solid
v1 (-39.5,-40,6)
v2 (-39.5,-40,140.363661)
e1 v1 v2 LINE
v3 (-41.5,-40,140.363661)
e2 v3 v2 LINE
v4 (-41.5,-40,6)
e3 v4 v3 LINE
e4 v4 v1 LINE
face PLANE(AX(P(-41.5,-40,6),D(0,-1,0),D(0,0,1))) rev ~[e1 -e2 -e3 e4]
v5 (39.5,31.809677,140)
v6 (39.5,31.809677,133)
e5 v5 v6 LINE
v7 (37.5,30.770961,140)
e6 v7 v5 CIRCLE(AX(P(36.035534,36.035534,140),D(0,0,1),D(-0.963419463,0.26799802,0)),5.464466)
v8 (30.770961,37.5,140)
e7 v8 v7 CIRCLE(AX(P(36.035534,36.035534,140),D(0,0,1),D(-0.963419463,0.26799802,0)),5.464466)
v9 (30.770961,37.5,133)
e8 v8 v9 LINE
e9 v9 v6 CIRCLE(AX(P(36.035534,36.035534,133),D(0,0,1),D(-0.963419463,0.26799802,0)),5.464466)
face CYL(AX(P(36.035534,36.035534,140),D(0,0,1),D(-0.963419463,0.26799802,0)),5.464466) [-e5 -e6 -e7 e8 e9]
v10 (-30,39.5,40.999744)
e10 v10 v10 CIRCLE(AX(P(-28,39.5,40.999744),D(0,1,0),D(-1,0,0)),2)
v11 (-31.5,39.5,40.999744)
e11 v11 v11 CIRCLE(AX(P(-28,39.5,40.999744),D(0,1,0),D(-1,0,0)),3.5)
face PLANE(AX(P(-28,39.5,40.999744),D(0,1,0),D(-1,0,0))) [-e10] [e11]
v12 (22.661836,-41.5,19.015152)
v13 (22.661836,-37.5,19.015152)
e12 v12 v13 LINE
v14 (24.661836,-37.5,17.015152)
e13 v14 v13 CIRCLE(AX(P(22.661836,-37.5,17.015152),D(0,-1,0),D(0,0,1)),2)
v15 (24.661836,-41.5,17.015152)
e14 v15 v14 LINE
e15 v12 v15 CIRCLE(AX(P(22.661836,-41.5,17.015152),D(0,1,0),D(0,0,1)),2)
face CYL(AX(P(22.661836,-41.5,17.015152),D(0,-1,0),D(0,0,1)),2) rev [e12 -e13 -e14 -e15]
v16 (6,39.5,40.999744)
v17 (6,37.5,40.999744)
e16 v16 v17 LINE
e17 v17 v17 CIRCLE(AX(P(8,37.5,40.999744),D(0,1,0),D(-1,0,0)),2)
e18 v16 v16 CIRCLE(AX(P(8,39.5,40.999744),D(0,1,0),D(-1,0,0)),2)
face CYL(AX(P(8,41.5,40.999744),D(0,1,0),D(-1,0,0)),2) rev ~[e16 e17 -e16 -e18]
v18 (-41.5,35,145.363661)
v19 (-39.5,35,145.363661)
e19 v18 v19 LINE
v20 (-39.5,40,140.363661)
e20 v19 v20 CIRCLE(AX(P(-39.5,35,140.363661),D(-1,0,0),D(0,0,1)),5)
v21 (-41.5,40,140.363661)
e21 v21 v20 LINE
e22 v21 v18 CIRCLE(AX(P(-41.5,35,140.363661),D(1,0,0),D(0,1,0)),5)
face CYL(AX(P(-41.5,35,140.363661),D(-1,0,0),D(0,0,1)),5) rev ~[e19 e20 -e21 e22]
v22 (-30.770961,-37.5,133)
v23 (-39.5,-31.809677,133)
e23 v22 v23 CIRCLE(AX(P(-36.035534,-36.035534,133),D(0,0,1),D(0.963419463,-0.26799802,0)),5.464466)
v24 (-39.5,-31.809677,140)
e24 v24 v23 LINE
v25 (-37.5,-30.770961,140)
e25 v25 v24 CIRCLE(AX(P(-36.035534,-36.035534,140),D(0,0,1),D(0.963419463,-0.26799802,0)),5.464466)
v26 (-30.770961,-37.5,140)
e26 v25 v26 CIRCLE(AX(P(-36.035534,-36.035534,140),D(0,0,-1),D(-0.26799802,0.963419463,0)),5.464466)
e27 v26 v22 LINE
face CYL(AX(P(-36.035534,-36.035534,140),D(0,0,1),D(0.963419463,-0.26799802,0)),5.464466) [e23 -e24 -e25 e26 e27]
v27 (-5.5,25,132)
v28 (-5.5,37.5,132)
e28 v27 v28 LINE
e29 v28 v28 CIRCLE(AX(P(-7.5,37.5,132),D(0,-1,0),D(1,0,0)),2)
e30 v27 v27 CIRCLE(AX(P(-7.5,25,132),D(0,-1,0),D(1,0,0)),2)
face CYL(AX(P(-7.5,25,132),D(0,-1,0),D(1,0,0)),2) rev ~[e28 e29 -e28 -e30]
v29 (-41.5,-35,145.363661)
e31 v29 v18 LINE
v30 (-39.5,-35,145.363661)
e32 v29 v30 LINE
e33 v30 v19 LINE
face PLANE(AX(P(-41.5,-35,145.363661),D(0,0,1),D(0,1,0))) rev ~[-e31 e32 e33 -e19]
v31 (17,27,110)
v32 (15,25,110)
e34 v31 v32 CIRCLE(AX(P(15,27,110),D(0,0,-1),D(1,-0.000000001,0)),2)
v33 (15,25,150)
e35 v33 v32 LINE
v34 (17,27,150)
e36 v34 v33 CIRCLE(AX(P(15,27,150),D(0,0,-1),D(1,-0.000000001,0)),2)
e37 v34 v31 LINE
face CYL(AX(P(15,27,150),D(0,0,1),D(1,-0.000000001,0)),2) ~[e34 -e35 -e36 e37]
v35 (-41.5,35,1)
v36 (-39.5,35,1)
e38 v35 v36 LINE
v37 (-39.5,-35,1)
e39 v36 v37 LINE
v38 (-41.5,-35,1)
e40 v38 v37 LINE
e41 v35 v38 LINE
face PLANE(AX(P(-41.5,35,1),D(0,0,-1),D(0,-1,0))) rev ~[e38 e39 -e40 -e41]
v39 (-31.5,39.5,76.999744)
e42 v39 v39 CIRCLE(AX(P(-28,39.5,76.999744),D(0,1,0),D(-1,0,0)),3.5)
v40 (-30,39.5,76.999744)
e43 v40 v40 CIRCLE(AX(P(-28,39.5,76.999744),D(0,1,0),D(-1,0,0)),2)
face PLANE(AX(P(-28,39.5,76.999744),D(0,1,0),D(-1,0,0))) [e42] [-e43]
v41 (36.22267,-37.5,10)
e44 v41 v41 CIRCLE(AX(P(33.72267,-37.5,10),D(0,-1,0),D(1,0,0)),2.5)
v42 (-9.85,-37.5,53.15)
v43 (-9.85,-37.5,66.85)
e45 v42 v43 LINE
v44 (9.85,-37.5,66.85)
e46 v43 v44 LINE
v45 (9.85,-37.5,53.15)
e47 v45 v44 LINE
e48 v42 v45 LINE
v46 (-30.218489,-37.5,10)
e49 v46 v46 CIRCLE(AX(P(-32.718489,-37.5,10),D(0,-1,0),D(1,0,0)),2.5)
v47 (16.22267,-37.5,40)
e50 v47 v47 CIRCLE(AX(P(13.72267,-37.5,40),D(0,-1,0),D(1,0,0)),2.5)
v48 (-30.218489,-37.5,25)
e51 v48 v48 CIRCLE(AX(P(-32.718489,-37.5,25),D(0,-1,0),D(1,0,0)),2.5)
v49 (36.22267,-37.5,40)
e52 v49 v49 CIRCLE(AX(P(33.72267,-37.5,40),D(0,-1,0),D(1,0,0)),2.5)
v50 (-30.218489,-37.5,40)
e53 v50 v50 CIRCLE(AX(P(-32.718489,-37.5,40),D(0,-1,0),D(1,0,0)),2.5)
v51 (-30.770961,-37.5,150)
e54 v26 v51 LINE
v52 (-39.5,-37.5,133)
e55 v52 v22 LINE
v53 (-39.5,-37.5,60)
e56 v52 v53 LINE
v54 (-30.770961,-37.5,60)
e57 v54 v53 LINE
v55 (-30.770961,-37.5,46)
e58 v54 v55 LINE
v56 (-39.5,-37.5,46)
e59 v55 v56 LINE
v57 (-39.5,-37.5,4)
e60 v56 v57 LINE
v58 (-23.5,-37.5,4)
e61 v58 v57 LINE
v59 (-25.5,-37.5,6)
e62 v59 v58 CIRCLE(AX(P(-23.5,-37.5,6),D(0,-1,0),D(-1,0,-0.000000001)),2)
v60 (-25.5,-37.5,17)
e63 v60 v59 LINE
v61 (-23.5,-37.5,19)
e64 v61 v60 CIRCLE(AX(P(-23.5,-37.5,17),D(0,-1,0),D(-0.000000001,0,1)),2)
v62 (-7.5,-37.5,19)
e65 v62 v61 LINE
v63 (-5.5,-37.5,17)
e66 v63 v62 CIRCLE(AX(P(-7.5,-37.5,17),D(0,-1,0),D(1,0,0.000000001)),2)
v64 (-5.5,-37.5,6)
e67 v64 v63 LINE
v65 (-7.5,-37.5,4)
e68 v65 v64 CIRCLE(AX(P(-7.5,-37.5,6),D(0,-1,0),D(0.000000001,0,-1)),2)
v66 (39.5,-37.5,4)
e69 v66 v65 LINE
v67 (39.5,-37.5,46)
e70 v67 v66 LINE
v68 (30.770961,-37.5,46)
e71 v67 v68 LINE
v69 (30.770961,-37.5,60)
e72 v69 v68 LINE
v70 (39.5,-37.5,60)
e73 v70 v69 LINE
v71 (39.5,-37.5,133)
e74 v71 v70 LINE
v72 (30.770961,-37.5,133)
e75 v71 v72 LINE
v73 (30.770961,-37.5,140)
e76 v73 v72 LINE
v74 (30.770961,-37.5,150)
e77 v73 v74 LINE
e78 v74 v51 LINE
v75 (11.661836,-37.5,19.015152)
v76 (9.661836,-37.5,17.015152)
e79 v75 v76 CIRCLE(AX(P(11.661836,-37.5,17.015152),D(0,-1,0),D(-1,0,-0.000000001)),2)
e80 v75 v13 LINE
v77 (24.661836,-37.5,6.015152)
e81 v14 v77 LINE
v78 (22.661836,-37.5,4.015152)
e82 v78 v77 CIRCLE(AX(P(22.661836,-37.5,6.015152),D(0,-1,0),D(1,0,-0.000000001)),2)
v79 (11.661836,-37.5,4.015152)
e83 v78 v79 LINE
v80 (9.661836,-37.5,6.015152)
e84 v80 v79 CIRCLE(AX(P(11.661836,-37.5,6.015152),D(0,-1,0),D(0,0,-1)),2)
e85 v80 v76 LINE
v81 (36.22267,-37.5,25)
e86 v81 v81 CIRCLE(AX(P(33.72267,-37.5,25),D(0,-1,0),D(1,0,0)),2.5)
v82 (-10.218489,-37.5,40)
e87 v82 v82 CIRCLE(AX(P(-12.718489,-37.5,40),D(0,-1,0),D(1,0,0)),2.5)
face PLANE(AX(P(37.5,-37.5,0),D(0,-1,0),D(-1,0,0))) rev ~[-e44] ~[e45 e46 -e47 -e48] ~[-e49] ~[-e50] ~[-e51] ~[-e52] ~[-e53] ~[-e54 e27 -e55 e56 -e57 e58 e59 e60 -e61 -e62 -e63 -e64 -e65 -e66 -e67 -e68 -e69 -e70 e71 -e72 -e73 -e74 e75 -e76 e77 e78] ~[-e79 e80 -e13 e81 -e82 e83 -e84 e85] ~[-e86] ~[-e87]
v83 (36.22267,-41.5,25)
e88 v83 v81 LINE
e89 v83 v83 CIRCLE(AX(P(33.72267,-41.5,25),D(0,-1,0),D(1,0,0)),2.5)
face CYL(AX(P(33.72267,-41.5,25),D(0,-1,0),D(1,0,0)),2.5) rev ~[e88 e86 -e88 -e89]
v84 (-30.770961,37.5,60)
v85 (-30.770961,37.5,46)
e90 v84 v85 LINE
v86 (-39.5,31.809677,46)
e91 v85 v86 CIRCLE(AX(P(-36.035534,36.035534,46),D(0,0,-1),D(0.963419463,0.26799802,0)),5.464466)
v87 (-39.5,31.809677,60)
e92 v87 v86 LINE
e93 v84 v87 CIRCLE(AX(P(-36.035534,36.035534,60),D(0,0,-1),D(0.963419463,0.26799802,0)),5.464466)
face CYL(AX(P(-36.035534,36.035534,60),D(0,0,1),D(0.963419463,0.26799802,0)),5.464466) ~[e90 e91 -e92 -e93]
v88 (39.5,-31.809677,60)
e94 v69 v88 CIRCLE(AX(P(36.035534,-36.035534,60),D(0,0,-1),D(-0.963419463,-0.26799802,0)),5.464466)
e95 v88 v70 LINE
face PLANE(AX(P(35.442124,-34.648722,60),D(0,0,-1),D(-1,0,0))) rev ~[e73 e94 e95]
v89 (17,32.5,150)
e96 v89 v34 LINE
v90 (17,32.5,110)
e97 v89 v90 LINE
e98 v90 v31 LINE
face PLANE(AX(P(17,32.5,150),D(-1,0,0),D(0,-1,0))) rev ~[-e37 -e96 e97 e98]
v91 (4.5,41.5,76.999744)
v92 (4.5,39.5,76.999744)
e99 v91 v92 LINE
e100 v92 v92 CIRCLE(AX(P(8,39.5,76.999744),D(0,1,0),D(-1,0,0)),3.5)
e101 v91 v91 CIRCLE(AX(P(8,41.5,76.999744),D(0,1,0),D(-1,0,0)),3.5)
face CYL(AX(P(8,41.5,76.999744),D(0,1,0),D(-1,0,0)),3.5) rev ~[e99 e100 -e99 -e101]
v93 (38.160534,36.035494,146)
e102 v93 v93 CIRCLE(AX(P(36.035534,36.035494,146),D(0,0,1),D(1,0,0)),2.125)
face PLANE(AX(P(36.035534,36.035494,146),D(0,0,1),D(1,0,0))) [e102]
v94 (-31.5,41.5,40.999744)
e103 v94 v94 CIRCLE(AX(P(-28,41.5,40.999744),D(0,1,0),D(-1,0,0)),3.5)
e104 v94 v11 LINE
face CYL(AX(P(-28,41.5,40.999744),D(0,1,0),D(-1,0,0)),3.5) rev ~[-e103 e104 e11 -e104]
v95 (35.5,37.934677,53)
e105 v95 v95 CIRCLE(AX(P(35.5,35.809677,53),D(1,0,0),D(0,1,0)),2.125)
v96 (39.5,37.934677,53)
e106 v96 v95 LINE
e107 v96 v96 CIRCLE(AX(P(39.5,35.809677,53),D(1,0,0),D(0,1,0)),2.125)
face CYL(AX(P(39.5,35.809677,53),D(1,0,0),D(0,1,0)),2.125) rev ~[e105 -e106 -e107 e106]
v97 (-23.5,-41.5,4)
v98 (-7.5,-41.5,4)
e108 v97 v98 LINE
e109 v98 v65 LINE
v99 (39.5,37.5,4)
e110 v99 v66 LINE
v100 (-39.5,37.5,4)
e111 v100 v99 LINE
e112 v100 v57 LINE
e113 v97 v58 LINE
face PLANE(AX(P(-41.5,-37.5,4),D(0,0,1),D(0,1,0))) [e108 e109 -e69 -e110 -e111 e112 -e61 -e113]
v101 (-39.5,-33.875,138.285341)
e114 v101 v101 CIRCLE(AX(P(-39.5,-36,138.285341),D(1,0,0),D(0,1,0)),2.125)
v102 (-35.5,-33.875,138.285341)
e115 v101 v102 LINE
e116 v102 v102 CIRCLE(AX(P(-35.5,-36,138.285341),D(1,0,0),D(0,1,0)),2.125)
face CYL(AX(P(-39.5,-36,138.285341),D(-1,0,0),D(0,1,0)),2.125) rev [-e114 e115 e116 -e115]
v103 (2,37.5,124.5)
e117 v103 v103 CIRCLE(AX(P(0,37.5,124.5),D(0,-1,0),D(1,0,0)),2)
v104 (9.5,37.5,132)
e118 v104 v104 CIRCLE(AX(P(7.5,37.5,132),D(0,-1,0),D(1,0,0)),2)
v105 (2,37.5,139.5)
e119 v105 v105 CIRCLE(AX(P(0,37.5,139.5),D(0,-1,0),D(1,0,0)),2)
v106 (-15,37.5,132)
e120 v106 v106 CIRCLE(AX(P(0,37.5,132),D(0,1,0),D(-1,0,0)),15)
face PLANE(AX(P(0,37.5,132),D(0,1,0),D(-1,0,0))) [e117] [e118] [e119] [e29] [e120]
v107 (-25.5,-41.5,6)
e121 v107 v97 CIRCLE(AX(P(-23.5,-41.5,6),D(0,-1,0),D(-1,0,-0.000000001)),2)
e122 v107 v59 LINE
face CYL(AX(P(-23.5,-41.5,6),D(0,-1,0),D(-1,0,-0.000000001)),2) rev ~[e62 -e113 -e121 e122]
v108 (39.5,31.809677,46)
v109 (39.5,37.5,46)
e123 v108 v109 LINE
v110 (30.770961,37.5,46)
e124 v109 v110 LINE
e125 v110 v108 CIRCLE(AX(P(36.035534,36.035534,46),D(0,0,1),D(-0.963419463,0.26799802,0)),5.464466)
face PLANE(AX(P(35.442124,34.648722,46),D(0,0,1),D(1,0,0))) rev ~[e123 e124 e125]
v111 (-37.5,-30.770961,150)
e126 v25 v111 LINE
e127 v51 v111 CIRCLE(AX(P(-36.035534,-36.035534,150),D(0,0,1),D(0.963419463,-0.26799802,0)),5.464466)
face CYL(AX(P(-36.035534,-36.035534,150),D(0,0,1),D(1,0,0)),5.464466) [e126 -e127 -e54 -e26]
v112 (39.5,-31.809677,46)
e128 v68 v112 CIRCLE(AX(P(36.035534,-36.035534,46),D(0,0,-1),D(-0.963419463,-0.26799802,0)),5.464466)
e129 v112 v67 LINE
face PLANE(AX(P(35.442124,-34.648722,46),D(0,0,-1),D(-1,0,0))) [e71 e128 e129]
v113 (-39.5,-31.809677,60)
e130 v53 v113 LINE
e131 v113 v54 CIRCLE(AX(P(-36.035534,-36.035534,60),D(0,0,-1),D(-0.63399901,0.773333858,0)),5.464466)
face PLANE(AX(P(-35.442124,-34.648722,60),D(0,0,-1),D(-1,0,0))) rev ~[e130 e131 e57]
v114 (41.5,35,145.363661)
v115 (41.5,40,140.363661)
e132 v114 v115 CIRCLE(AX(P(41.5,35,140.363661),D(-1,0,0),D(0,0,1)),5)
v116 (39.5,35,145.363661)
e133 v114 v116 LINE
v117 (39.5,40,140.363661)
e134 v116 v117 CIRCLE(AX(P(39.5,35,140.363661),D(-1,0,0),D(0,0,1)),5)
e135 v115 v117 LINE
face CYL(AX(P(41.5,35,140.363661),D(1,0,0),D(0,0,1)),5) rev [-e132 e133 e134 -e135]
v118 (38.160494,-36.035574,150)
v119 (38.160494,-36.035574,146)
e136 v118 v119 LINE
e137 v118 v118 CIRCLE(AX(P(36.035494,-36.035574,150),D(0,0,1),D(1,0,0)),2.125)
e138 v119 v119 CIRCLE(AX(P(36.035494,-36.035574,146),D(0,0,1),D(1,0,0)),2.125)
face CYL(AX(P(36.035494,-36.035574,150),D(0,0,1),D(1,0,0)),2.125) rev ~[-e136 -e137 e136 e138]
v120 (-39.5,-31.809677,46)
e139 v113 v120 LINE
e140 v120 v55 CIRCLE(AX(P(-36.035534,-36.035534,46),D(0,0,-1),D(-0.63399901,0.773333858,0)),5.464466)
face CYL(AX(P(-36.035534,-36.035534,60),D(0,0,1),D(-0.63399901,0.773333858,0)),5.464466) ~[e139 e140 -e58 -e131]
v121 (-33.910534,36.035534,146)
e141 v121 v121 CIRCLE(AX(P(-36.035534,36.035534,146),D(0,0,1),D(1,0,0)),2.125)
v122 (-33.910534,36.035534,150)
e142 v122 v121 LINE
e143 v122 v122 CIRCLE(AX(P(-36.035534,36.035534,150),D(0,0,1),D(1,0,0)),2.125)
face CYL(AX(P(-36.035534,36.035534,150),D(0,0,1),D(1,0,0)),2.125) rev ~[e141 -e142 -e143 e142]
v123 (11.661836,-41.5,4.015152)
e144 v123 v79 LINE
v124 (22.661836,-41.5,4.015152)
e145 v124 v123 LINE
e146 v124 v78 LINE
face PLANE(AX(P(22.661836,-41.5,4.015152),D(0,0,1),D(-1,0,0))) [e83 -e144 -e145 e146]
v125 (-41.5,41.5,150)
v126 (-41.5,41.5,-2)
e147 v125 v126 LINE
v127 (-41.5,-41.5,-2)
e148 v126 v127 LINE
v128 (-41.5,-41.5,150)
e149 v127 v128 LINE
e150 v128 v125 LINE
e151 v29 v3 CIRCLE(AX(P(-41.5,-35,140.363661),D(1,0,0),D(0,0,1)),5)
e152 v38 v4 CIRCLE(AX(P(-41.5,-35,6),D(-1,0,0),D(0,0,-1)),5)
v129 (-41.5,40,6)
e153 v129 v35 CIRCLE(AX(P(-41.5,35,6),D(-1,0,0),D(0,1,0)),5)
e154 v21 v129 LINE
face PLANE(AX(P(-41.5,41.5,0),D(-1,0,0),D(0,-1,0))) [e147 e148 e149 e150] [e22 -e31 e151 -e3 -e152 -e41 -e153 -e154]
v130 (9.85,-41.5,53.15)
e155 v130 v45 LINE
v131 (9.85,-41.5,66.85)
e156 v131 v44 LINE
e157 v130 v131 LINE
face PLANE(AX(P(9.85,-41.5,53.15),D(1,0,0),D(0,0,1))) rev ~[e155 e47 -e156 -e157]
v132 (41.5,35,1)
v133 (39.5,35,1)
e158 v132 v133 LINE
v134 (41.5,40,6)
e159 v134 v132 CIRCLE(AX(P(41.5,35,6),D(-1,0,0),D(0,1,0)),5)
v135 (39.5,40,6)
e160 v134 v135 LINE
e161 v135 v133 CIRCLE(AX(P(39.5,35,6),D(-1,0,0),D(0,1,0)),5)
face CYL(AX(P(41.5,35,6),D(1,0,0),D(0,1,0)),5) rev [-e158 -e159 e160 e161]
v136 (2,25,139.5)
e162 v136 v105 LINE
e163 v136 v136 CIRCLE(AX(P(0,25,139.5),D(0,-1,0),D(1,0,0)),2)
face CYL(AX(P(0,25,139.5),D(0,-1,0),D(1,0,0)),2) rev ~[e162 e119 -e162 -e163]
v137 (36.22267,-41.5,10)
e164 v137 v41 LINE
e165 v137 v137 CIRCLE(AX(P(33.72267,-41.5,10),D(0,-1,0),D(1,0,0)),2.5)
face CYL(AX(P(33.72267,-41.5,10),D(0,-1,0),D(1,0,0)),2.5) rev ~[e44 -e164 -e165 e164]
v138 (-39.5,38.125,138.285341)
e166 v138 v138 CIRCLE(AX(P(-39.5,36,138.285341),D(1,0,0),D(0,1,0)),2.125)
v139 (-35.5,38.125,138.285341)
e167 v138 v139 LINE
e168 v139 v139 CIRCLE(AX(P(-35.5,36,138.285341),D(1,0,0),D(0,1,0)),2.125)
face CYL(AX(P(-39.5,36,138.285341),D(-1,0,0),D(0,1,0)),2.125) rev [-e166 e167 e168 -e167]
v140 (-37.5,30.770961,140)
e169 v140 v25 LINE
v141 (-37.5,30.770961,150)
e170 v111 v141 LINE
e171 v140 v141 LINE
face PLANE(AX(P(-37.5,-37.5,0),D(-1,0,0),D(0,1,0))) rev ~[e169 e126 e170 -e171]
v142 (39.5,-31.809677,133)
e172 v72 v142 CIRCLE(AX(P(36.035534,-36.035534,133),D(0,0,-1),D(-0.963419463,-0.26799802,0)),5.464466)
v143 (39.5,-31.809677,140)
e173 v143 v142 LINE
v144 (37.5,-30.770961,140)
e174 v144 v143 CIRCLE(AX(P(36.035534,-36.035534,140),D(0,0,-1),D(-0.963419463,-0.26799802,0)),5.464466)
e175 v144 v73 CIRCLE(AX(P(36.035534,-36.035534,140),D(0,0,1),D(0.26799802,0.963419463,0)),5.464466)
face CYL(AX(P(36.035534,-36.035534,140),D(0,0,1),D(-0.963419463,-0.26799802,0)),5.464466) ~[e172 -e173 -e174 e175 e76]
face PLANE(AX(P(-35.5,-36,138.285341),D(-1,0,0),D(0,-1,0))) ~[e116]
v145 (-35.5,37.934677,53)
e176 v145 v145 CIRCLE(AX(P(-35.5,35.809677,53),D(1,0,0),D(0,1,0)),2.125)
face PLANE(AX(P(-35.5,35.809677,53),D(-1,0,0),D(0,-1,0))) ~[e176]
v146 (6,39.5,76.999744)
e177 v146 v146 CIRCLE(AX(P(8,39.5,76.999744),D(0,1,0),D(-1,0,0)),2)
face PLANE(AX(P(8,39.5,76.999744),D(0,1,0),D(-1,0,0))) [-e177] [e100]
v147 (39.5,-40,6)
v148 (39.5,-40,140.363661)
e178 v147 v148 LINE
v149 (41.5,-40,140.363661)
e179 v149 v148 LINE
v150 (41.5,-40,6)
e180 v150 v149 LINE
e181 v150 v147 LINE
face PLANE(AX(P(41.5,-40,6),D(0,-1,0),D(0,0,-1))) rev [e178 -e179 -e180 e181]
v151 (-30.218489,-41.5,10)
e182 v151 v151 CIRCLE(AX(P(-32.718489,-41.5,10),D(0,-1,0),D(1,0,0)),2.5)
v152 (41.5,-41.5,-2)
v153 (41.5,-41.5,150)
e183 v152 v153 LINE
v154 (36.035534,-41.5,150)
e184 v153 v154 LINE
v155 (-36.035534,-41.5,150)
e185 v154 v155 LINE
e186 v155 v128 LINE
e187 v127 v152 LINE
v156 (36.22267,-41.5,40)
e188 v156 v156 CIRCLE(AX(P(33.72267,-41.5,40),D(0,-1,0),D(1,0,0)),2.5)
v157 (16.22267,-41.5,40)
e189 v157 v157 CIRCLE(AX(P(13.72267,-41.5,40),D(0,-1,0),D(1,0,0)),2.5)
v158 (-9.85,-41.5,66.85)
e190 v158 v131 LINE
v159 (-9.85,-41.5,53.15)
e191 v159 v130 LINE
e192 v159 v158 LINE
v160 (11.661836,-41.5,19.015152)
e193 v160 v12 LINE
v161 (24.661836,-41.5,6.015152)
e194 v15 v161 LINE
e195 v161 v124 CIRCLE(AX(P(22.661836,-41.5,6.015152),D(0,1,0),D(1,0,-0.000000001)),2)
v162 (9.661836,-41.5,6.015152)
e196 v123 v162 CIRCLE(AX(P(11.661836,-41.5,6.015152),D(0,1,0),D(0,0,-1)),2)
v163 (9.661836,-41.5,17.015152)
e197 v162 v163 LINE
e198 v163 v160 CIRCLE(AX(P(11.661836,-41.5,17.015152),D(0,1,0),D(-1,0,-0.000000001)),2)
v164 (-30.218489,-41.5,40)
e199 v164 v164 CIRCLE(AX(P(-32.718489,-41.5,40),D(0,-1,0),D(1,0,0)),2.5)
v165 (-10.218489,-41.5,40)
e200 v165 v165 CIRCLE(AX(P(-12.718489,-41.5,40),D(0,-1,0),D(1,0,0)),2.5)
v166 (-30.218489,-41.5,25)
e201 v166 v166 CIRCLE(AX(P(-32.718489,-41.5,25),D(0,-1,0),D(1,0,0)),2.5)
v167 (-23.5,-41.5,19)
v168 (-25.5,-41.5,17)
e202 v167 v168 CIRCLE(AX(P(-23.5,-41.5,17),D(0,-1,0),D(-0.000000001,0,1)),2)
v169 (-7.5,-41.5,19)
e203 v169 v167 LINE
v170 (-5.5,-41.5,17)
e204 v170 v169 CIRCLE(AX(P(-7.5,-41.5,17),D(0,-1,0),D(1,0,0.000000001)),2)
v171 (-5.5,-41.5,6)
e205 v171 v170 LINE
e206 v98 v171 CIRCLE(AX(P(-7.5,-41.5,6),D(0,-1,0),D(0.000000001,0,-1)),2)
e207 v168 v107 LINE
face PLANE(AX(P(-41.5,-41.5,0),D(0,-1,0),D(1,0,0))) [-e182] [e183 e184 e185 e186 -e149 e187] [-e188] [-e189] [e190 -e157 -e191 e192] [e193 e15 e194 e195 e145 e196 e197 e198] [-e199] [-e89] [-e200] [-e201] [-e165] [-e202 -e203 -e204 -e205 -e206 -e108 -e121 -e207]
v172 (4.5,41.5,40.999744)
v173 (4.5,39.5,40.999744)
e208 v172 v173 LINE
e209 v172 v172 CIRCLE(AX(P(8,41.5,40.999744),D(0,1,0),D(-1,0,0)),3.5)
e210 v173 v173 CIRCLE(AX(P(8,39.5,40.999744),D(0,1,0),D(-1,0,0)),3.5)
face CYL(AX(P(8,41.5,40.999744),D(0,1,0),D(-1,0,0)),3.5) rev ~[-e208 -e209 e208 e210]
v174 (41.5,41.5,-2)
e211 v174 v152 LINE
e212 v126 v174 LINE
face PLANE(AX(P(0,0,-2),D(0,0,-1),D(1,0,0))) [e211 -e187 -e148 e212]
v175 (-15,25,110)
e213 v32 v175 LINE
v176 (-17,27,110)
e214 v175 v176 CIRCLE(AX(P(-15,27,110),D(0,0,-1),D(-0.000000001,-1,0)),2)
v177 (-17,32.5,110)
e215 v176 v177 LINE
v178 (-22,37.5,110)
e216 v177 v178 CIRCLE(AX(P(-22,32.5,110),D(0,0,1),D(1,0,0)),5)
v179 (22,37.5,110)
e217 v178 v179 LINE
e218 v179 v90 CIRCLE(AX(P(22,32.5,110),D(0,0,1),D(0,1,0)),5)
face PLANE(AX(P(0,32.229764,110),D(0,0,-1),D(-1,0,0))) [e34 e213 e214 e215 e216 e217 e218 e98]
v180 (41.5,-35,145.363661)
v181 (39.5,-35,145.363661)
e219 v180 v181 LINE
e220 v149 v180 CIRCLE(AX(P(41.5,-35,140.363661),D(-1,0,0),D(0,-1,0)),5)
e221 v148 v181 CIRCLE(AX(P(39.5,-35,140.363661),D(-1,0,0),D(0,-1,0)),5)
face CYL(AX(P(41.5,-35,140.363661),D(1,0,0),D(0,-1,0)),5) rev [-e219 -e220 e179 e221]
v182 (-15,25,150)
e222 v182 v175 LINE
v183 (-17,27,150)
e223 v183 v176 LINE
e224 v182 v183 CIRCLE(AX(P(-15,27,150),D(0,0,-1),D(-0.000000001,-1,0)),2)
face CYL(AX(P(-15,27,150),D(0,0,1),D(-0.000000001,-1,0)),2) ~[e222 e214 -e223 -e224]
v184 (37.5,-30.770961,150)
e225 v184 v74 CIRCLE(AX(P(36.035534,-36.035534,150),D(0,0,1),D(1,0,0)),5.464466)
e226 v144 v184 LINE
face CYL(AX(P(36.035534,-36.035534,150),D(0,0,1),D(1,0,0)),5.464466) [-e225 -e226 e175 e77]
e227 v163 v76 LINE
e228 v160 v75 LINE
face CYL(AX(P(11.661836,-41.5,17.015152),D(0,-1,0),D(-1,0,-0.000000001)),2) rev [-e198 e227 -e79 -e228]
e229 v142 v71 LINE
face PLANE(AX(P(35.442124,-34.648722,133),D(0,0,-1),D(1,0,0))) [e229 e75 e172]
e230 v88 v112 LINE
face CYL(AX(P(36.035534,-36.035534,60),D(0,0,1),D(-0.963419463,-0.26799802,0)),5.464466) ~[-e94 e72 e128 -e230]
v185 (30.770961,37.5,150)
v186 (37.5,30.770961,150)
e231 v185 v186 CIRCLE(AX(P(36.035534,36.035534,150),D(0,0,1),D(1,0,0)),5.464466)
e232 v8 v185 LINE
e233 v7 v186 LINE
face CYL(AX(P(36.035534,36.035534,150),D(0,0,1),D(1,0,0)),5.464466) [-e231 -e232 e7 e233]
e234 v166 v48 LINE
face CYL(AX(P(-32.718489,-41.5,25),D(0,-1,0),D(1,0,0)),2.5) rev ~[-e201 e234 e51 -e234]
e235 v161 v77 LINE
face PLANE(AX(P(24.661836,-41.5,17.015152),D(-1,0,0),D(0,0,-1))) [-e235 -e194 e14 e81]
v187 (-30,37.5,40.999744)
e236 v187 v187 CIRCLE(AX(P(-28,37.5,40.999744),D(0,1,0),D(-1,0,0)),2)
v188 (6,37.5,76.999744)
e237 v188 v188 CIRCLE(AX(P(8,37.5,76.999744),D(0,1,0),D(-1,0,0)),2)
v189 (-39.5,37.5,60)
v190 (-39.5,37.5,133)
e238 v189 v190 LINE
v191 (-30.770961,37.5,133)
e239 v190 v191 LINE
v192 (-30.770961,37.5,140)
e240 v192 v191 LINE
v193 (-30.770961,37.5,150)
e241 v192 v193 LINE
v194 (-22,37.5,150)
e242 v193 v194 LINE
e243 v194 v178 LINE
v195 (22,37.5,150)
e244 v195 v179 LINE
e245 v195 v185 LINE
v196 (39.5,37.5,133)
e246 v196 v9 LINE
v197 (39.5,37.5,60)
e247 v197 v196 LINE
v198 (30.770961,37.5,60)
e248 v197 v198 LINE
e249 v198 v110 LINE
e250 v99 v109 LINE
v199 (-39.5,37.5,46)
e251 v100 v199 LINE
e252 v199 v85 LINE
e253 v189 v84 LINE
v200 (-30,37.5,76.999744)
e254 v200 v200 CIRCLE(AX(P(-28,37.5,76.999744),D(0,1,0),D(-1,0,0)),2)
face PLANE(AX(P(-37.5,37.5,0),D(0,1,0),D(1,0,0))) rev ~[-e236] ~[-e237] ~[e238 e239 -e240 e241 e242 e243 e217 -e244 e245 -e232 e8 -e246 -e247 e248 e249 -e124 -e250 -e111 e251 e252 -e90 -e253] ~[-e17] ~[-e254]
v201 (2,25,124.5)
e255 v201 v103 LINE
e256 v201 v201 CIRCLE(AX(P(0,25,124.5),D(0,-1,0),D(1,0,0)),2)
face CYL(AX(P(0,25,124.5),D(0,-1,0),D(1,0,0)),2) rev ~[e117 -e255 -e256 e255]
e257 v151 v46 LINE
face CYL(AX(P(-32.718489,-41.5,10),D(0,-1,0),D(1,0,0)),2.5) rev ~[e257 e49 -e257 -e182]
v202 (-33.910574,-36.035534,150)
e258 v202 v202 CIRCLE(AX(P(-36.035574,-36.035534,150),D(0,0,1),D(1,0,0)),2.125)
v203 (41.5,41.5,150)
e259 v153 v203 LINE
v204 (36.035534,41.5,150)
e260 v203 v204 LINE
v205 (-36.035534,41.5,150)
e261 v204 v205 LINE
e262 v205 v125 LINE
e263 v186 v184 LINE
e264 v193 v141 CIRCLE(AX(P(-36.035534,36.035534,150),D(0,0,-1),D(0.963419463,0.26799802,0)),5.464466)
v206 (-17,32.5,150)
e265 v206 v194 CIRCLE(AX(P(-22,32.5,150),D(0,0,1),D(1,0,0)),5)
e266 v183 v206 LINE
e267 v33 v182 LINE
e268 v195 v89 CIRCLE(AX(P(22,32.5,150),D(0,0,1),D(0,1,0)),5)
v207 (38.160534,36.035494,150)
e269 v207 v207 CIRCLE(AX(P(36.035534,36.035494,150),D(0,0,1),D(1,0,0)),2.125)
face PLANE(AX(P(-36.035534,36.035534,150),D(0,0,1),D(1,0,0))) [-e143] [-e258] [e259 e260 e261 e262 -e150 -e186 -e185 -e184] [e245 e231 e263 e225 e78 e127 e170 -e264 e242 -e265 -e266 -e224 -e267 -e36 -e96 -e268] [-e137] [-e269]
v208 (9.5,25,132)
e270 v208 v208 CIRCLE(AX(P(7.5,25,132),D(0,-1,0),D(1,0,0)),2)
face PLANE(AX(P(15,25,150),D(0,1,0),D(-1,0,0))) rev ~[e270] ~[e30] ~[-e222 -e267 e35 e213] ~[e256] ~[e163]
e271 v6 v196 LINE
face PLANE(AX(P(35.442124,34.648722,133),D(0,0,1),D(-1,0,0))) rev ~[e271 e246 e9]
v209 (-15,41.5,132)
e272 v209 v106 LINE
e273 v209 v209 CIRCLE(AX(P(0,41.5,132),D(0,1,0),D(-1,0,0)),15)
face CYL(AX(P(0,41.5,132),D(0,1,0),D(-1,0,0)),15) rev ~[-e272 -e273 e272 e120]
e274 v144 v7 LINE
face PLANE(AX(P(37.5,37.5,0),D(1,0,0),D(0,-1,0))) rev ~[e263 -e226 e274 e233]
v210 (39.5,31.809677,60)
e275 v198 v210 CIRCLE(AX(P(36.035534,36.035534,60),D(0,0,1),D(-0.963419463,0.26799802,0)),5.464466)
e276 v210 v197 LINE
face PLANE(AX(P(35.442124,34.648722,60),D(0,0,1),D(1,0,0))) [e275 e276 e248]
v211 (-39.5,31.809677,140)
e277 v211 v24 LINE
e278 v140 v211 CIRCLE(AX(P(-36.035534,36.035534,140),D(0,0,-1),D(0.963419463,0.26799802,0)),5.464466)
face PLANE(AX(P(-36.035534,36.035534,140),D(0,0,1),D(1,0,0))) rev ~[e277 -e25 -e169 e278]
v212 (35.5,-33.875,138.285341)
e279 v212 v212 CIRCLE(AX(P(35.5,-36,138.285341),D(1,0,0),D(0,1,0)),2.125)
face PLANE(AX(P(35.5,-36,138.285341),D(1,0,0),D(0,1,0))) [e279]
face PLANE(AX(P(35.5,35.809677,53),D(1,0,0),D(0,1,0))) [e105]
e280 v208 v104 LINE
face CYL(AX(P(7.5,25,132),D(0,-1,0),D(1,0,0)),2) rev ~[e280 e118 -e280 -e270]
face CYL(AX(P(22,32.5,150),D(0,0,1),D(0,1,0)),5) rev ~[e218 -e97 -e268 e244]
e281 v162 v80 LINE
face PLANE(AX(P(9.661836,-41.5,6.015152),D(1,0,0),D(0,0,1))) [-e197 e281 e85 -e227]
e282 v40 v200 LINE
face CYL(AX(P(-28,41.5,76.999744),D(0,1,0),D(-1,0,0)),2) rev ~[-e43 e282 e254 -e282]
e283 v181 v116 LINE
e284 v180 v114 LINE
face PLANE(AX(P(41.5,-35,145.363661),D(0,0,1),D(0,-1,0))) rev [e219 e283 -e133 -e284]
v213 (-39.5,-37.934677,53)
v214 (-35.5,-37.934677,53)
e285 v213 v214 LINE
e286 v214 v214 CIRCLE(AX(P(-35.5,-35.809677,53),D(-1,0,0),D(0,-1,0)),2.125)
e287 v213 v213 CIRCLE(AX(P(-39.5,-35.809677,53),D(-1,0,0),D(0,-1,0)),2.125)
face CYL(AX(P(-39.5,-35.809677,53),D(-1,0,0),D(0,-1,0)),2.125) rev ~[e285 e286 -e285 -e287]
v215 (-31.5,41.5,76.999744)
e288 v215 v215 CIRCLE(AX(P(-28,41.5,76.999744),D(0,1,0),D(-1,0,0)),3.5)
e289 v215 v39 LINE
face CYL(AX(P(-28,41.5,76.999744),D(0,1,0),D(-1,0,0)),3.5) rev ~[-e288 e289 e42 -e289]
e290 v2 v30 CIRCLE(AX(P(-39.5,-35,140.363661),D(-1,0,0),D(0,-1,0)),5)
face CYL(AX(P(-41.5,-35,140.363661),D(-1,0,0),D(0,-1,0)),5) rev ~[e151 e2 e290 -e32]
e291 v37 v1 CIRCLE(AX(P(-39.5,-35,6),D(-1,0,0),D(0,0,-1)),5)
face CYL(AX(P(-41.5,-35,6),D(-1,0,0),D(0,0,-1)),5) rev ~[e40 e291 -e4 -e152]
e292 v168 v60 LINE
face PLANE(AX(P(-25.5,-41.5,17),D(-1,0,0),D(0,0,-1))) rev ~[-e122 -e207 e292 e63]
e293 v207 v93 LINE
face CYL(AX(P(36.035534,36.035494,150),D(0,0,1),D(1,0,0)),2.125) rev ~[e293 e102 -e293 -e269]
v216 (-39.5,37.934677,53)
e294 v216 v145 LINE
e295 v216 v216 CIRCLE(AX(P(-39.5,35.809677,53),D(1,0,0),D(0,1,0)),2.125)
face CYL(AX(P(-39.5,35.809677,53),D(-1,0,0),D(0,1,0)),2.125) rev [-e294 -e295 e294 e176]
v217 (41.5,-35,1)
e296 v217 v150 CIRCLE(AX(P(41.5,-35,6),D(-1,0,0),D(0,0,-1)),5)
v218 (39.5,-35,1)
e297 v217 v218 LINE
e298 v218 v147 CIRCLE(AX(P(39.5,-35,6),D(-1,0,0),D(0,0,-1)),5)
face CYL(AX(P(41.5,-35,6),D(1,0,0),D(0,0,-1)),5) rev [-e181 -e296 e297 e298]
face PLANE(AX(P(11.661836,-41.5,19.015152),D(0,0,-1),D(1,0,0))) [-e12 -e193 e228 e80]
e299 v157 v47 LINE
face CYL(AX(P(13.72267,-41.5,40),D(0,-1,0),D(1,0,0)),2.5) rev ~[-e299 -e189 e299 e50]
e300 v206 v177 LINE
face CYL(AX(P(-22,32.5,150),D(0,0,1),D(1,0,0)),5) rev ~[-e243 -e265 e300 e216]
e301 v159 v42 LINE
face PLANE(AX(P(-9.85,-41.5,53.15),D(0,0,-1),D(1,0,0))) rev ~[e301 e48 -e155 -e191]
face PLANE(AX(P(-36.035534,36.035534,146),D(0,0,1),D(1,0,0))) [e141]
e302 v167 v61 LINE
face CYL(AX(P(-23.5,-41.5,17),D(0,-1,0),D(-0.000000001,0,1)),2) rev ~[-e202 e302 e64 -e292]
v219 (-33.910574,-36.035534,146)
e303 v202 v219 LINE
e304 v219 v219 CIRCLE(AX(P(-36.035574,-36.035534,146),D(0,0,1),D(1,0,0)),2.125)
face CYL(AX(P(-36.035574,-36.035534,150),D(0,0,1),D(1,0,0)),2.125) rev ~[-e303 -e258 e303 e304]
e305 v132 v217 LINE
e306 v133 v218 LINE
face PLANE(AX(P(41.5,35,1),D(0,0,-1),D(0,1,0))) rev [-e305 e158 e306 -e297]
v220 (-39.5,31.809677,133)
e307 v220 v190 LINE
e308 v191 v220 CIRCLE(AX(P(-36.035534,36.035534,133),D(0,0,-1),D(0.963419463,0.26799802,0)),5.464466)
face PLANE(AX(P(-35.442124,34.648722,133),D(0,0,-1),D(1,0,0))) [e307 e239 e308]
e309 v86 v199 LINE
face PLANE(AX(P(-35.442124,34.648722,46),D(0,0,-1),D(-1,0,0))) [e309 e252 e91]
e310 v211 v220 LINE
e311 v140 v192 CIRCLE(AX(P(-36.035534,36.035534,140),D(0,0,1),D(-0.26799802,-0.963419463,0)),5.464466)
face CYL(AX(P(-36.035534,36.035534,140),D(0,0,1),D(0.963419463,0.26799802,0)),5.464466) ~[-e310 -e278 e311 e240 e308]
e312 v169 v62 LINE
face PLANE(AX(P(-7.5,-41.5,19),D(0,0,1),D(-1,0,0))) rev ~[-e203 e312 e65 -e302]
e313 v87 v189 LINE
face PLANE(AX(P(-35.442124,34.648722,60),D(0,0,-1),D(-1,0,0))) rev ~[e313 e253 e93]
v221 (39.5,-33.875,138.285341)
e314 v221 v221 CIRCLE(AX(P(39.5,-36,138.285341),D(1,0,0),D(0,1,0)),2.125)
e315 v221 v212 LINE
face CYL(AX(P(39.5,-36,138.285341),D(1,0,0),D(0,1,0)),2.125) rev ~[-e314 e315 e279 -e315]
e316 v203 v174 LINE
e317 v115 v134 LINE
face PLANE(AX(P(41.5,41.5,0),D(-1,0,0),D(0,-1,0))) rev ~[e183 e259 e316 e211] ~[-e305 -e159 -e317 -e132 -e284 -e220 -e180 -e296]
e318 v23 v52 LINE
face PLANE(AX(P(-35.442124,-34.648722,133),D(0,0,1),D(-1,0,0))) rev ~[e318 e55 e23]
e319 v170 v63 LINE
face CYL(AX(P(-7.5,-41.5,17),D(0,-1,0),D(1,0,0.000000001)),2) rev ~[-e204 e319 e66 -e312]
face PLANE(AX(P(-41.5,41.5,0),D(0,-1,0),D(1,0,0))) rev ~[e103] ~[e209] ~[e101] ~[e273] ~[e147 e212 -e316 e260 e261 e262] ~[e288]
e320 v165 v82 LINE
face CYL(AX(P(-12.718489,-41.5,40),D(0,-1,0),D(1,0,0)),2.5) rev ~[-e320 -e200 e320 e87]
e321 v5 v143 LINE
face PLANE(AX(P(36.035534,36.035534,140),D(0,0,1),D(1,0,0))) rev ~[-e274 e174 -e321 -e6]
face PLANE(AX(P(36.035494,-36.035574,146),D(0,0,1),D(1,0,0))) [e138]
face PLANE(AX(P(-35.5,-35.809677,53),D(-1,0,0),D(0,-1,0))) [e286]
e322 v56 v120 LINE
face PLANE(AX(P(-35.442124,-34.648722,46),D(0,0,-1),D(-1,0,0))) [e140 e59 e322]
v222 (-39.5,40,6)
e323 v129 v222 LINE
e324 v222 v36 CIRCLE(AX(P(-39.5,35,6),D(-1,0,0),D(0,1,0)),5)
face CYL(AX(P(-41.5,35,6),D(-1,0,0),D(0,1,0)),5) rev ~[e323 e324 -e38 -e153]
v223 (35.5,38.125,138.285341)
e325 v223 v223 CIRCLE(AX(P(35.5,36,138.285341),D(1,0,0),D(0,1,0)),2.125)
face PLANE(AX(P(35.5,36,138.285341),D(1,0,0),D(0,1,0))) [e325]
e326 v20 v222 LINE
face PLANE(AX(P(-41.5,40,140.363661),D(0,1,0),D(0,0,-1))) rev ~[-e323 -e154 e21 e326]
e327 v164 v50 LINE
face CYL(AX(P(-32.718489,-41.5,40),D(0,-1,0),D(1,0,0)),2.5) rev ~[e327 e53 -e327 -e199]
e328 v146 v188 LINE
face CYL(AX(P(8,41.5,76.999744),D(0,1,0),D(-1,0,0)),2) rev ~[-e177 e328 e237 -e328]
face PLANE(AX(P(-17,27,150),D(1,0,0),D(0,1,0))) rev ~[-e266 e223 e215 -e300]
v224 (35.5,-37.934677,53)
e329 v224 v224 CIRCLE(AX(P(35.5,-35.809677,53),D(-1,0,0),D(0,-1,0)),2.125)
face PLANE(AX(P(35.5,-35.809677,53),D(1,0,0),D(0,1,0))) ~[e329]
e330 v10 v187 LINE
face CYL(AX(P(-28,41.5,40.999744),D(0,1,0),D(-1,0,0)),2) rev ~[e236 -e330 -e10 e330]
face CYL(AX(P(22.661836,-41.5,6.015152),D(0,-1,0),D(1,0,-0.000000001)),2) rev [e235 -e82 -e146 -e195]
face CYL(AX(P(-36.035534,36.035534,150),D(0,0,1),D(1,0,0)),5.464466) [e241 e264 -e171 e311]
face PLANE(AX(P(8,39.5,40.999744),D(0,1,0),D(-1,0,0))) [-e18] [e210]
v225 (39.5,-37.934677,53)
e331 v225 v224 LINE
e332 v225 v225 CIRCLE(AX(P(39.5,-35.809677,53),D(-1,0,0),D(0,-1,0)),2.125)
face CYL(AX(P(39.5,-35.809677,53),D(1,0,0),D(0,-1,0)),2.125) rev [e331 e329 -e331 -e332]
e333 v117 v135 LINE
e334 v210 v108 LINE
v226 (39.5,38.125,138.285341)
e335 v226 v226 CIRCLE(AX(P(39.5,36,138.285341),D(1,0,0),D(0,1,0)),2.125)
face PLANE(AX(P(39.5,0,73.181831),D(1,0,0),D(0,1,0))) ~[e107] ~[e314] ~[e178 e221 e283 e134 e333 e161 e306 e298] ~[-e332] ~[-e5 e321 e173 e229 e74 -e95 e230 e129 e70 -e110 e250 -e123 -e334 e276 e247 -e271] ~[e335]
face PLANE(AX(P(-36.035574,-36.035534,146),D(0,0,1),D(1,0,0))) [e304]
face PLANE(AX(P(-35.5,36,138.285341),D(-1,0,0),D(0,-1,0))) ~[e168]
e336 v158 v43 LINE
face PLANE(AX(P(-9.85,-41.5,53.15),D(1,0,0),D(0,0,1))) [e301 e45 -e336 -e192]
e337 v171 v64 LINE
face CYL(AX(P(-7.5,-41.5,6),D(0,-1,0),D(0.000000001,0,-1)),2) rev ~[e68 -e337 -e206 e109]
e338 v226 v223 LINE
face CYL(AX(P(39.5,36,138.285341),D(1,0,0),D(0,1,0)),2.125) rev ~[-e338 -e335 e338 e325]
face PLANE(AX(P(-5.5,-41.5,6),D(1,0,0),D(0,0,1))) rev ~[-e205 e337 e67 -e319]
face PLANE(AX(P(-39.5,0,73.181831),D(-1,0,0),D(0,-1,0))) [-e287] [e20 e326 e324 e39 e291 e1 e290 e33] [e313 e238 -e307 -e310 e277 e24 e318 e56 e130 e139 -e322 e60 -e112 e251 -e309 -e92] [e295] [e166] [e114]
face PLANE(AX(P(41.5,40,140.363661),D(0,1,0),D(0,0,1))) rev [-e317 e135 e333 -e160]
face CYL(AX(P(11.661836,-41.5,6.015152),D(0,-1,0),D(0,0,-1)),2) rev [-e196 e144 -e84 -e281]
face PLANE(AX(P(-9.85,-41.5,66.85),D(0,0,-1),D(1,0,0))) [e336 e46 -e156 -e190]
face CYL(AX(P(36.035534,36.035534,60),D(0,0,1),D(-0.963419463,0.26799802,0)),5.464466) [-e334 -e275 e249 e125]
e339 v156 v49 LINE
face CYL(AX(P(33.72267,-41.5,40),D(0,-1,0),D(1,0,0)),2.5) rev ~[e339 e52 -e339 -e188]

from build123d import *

# Parameters (mm, degrees)
SKETCH1_W           = 83
SKETCH1_H           = 83
BOSS_EXTRUDE1_DEPTH = 150
SKETCH2_W           = 83
SKETCH2_H           = 83
BOSS_EXTRUDE2_DEPTH = 4
SKETCH3_R           = 5.464466094
BOSS_EXTRUDE3_DEPTH = 10
SKETCH4_R           = 2.125
CUT_EXTRUDE1_DEPTH  = 4
CUT_EXTRUDE3_DEPTH  = 84
BOSS_EXTRUDE4_DEPTH = 40
SKETCH10_R          = 2.5
SKETCH10_W          = 19.7
SKETCH10_H          = 13.7
CUT_EXTRUDE4_DEPTH  = 24
SKETCH11_R          = 2
CUT_EXTRUDE5_DEPTH  = 24
SKETCH11_3_R        = 3.5
SKETCH11_3_R_2      = 2
CUT_EXTRUDE6_DEPTH  = 2
SKETCH12_R          = 2
CUT_EXTRUDE7_DEPTH  = 17.5
SKETCH13_R          = 15
CUT_EXTRUDE8_DEPTH  = 4
SKETCH15_W          = 83
SKETCH15_H          = 83
BOSS_EXTRUDE5_DEPTH = 2
CUT_EXTRUDE9_DEPTH  = 2
BOSS_EXTRUDE6_DEPTH = 7
SKETCH17_R          = 2.125
CUT_EXTRUDE10_DEPTH = 4
BOSS_EXTRUDE7_DEPTH = 14
SKETCH19_R          = 2.125
CUT_EXTRUDE11_DEPTH = 4
SKETCH20_R          = 2.125
CUT_EXTRUDE12_DEPTH = 4


with BuildPart() as part:
    # Sketch1 → Boss-Extrude1 (new body)
    with BuildSketch(Plane(origin=(0, 0, 0), x_dir=(0, 1, 0), z_dir=(0, 0, 1))):
        Rectangle(SKETCH1_W, SKETCH1_H)
        with BuildLine():
            Line((32.5, -37.5), (-32.5, -37.5))
            Line((-32.5, -37.5), (-34.671964615, -37.5))
            ThreePointArc((-34.671964615, -37.5), (-36.062445841, -38.062445841), (-37.452927066, -37.5))
            Line((-37.452927066, -37.5), (-37.5, -37.5))
            Line((-37.5, -37.5), (-37.5, -37.452927066))
            ThreePointArc((-37.5, -37.452927066), (-38.062445841, -36.062445841), (-37.5, -34.671964615))
            Line((-37.5, -34.671964615), (-37.5, -32.5))
            Line((-37.5, -32.5), (-37.5, 32.5))
            Line((-37.5, 32.5), (-37.5, 34.671964615))
            ThreePointArc((-37.5, 34.671964615), (-38.062445841, 36.062445841), (-37.5, 37.452927066))
            Line((-37.5, 37.452927066), (-37.5, 37.5))
            Line((-37.5, 37.5), (-37.452927066, 37.5))
            ThreePointArc((-37.452927066, 37.5), (-36.062445841, 38.062445841), (-34.671964615, 37.5))
            Line((-34.671964615, 37.5), (-32.5, 37.5))
            Line((-32.5, 37.5), (32.5, 37.5))
            Line((32.5, 37.5), (34.671964615, 37.5))
            ThreePointArc((34.671964615, 37.5), (36.062445841, 38.062445841), (37.452927066, 37.5))
            Line((37.452927066, 37.5), (37.5, 37.5))
            Line((37.5, 37.5), (37.5, 37.452927066))
            ThreePointArc((37.5, 37.452927066), (37.916510068, 36.812409733), (38.062445841, 36.062445841))
            ThreePointArc((38.062445841, 36.062445841), (37.916510068, 35.312481948), (37.5, 34.671964615))
            Line((37.5, 34.671964615), (37.5, 32.5))
            Line((37.5, 32.5), (37.5, -32.5))
            Line((37.5, -32.5), (37.5, -34.671964615))
            ThreePointArc((37.5, -34.671964615), (37.916510068, -35.312481948), (38.062445841, -36.062445841))
            ThreePointArc((38.062445841, -36.062445841), (37.916510068, -36.812409733), (37.5, -37.452927066))
            Line((37.5, -37.452927066), (37.5, -37.5))
            Line((37.5, -37.5), (37.452927066, -37.5))
            ThreePointArc((37.452927066, -37.5), (36.062445841, -38.062445841), (34.671964615, -37.5))
            Line((34.671964615, -37.5), (32.5, -37.5))
        make_face(mode=Mode.SUBTRACT)
        with BuildLine():
            ThreePointArc((-34.671964615, 37.5), (-36.062445841, 38.062445841), (-37.452927066, 37.5))
            Line((-37.452927066, 37.5), (-34.671964615, 37.5))
        make_face()
        with BuildLine():
            ThreePointArc((-37.5, 37.452927066), (-38.062445841, 36.062445841), (-37.5, 34.671964615))
            Line((-37.5, 34.671964615), (-37.5, 37.452927066))
        make_face()
        with BuildLine():
            ThreePointArc((-37.452927066, -37.5), (-36.062445841, -38.062445841), (-34.671964615, -37.5))
            Line((-34.671964615, -37.5), (-37.452927066, -37.5))
        make_face()
        with BuildLine():
            ThreePointArc((-37.5, -34.671964615), (-38.062445841, -36.062445841), (-37.5, -37.452927066))
            Line((-37.5, -37.452927066), (-37.5, -34.671964615))
        make_face()
        with BuildLine():
            ThreePointArc((38.062445841, -36.062445841), (37.916510068, -35.312481948), (37.5, -34.671964615))
            Line((37.5, -34.671964615), (37.5, -37.452927066))
            ThreePointArc((37.5, -37.452927066), (37.916510068, -36.812409733), (38.062445841, -36.062445841))
        make_face()
        with BuildLine():
            Line((37.452927066, -37.5), (34.671964615, -37.5))
            ThreePointArc((34.671964615, -37.5), (36.062445841, -38.062445841), (37.452927066, -37.5))
        make_face()
        with BuildLine():
            ThreePointArc((37.452927066, 37.5), (36.062445841, 38.062445841), (34.671964615, 37.5))
            Line((34.671964615, 37.5), (37.452927066, 37.5))
        make_face()
        with BuildLine():
            Line((37.5, 37.452927066), (37.5, 34.671964615))
            ThreePointArc((37.5, 34.671964615), (37.916510068, 35.312481948), (38.062445841, 36.062445841))
            ThreePointArc((38.062445841, 36.062445841), (37.916510068, 36.812409733), (37.5, 37.452927066))
        make_face()
    extrude(amount=BOSS_EXTRUDE1_DEPTH)

    # Sketch2 → Boss-Extrude2 (add)
    with BuildSketch(Plane(origin=(0, 0, 0), x_dir=(1, 0, 0), z_dir=(0, 0, -1))):
        Rectangle(SKETCH2_W, SKETCH2_H)
    extrude(amount=-BOSS_EXTRUDE2_DEPTH)

    # Sketch3 → Boss-Extrude3 (add)
    with BuildSketch(Plane.XY.offset(150)):
        with Locations((-36.035533906, 36.035533906)):
            Circle(SKETCH3_R)
        with Locations((36.035533906, 36.035533906)):
            Circle(SKETCH3_R)
        with Locations((36.035533906, -36.035533906)):
            Circle(SKETCH3_R)
        with Locations((-36.035533906, -36.035533906)):
            Circle(SKETCH3_R)
    extrude(amount=-BOSS_EXTRUDE3_DEPTH)

    # Sketch4 → Cut-Extrude1 (cut)
    with BuildSketch(Plane.XY.offset(150)):
        with Locations((-36.035533906, 36.035533906)):
            Circle(SKETCH4_R)
        with Locations((36.035533921, 36.035493754)):
            Circle(SKETCH4_R)
        with Locations((36.035493769, -36.035574073)):
            Circle(SKETCH4_R)
        with Locations((-36.035574057, -36.035533921)):
            Circle(SKETCH4_R)
    extrude(amount=-CUT_EXTRUDE1_DEPTH, mode=Mode.SUBTRACT)

    # Sketch6 → Cut-Extrude3 (cut, through all)
    with BuildSketch(Plane(origin=(-41.5, 0, 0), x_dir=(0, -1, 0), z_dir=(-1, 0, 0))):
        with BuildLine():
            Line((37.5, 4), (-37.5, 4))
            Line((-37.5, 4), (-37.5, 136.585279453))
            ThreePointArc((-37.5, 136.585279453), (-36.499851508, 138.999851508), (-34.085279453, 140))
            Line((-34.085279453, 140), (34.085279453, 140))
            ThreePointArc((34.085279453, 140), (36.499851508, 138.999851508), (37.5, 136.585279453))
            Line((37.5, 136.585279453), (37.5, 4))
        make_face()
    extrude(amount=-CUT_EXTRUDE3_DEPTH, mode=Mode.SUBTRACT)

    # Sketch9 → Boss-Extrude4 (add)
    with BuildSketch(Plane.XY.offset(150)):
        with BuildLine():
            Line((15, 25), (-15, 25))
            ThreePointArc((-15, 25), (-16.414213562, 25.585786438), (-17, 27))
            Line((-17, 27), (-17, 32.5))
            ThreePointArc((-17, 32.5), (-18.464466094, 36.035533906), (-22, 37.5))
            Line((-22, 37.5), (22, 37.5))
            ThreePointArc((22, 37.5), (18.464466094, 36.035533906), (17, 32.5))
            Line((17, 32.5), (17, 27))
            ThreePointArc((17, 27), (16.414213562, 25.585786438), (15, 25))
        make_face()
    extrude(amount=-BOSS_EXTRUDE4_DEPTH)

    # Sketch10 → Cut-Extrude4 (cut)
    with BuildSketch(Plane.XZ.offset(41.5)):
        with Locations((33.72267018, 40)):
            Circle(SKETCH10_R)
        with Locations((33.72267018, 25)):
            Circle(SKETCH10_R)
        with Locations((33.72267018, 10)):
            Circle(SKETCH10_R)
        with Locations((-32.71848924, 40)):
            Circle(SKETCH10_R)
        with Locations((-32.71848924, 10)):
            Circle(SKETCH10_R)
        with Locations((-32.71848924, 25)):
            Circle(SKETCH10_R)
        with Locations((-12.71848924, 40)):
            Circle(SKETCH10_R)
        with Locations((13.72267018, 40)):
            Circle(SKETCH10_R)
        with BuildLine():
            Line((-23.5, 4), (-7.5, 4))
            ThreePointArc((-7.5, 4), (-6.085786438, 4.585786438), (-5.5, 6))
            Line((-5.5, 6), (-5.5, 17))
            ThreePointArc((-5.5, 17), (-6.085786438, 18.414213562), (-7.5, 19))
            Line((-7.5, 19), (-23.5, 19))
            ThreePointArc((-23.5, 19), (-24.914213562, 18.414213562), (-25.5, 17))
            Line((-25.5, 17), (-25.5, 6))
            ThreePointArc((-25.5, 6), (-24.914213562, 4.585786438), (-23.5, 4))
        make_face()
        with BuildLine():
            Line((9.661835749, 6.015151515), (9.661835749, 17.015151515))
            ThreePointArc((9.661835749, 17.015151515), (10.247622186, 18.429365078), (11.661835749, 19.015151515))
            Line((11.661835749, 19.015151515), (22.661835749, 19.015151515))
            ThreePointArc((22.661835749, 19.015151515), (24.076049311, 18.429365078), (24.661835749, 17.015151515))
            Line((24.661835749, 17.015151515), (24.661835749, 6.015151515))
            ThreePointArc((24.661835749, 6.015151515), (24.076049311, 4.600937953), (22.661835749, 4.015151515))
            Line((22.661835749, 4.015151515), (11.661835749, 4.015151515))
            ThreePointArc((11.661835749, 4.015151515), (10.247622186, 4.600937953), (9.661835749, 6.015151515))
        make_face()
        with Locations((0, 60)):
            Rectangle(SKETCH10_W, SKETCH10_H)
    extrude(amount=-CUT_EXTRUDE4_DEPTH, mode=Mode.SUBTRACT)

    # Sketch11 → Cut-Extrude5 (cut)
    with BuildSketch(Plane(origin=(0, 41.5, 0), x_dir=(-1, 0, 0), z_dir=(0, 1, 0))):
        with Locations((-8, 76.99974406)):
            Circle(SKETCH11_R)
        with Locations((28, 76.99974406)):
            Circle(SKETCH11_R)
        with Locations((-8, 40.99974406)):
            Circle(SKETCH11_R)
        with Locations((28, 40.99974406)):
            Circle(SKETCH11_R)
    extrude(amount=-CUT_EXTRUDE5_DEPTH, mode=Mode.SUBTRACT)

    # Sketch11_3 → Cut-Extrude6 (cut)
    with BuildSketch(Plane(origin=(0, 41.5, 0), x_dir=(-1, 0, 0), z_dir=(0, 1, 0))):
        with Locations((-8, 76.99974406)):
            Circle(SKETCH11_3_R)
        with Locations((-8, 76.99974406)):
            Circle(SKETCH11_3_R_2, mode=Mode.SUBTRACT)
        with Locations((28, 76.99974406)):
            Circle(SKETCH11_3_R)
        with Locations((28, 76.99974406)):
            Circle(SKETCH11_3_R_2, mode=Mode.SUBTRACT)
        with Locations((-8, 40.99974406)):
            Circle(SKETCH11_3_R)
        with Locations((-8, 40.99974406)):
            Circle(SKETCH11_3_R_2, mode=Mode.SUBTRACT)
        with Locations((28, 40.99974406)):
            Circle(SKETCH11_3_R)
        with Locations((28, 40.99974406)):
            Circle(SKETCH11_3_R_2, mode=Mode.SUBTRACT)
    extrude(amount=-CUT_EXTRUDE6_DEPTH, mode=Mode.SUBTRACT)

    # Sketch12 → Cut-Extrude7 (cut, through all)
    with BuildSketch(Plane.XZ.offset(-25)):
        with Locations((0, 139.5)):
            Circle(SKETCH12_R)
        with Locations((-7.5, 132)):
            Circle(SKETCH12_R)
        with Locations((0, 124.5)):
            Circle(SKETCH12_R)
        with Locations((7.5, 132)):
            Circle(SKETCH12_R)
    extrude(amount=-CUT_EXTRUDE7_DEPTH, mode=Mode.SUBTRACT)

    # Sketch13 → Cut-Extrude8 (cut)
    with BuildSketch(Plane(origin=(0, 41.5, 0), x_dir=(-1, 0, 0), z_dir=(0, 1, 0))):
        with Locations((0, 132)):
            Circle(SKETCH13_R)
    extrude(amount=-CUT_EXTRUDE8_DEPTH, mode=Mode.SUBTRACT)

    # Sketch15 → Boss-Extrude5 (add)
    with BuildSketch(Plane(origin=(0, 0, 0), x_dir=(1, 0, 0), z_dir=(0, 0, -1))):
        Rectangle(SKETCH15_W, SKETCH15_H)
    extrude(amount=BOSS_EXTRUDE5_DEPTH)

    # Sketch14 → Cut-Extrude9 (cut)
    with BuildSketch(Plane(origin=(-41.5, 0, 0), x_dir=(0, -1, 0), z_dir=(-1, 0, 0))):
        with BuildLine():
            Line((-35, 1), (35, 1))
            ThreePointArc((35, 1), (38.535533906, 2.464466094), (40, 6))
            Line((40, 6), (40, 140.363661278))
            ThreePointArc((40, 140.363661278), (38.535533906, 143.899195184), (35, 145.363661278))
            Line((35, 145.363661278), (-35, 145.363661278))
            ThreePointArc((-35, 145.363661278), (-38.535533906, 143.899195184), (-40, 140.363661278))
            Line((-40, 140.363661278), (-40, 6))
            ThreePointArc((-40, 6), (-38.535533906, 2.464466094), (-35, 1))
        make_face()
    cut_extrude9 = extrude(amount=-CUT_EXTRUDE9_DEPTH, mode=Mode.SUBTRACT)

    # Mirror1: Cut-Extrude9 across plane
    add(cut_extrude9.mirror(Plane(origin=(0, 0, 0), x_dir=(0, 0, 1), z_dir=(1, 0, 0))), mode=Mode.SUBTRACT)

    # Sketch16 → Boss-Extrude6 (add)
    with BuildSketch(Plane(origin=(0, 0, 140), x_dir=(1, 0, 0), z_dir=(0, 0, -1))):
        with BuildLine():
            Line((39.5, -37.5), (30.770960917, -37.5))
            ThreePointArc((30.770960917, -37.5), (33.051402638, -31.457832488), (39.5, -31.809677262))
            Line((39.5, -31.809677262), (39.5, -37.5))
        make_face()
        with BuildLine():
            Line((-39.5, 37.5), (-30.770960917, 37.5))
            ThreePointArc((-30.770960917, 37.5), (-33.051402638, 31.457832488), (-39.5, 31.809677262))
            Line((-39.5, 31.809677262), (-39.5, 37.5))
        make_face()
        with BuildLine():
            Line((-39.5, -31.809677262), (-39.5, -37.5))
            Line((-39.5, -37.5), (-30.770960917, -37.5))
            ThreePointArc((-30.770960917, -37.5), (-33.051402638, -31.457832488), (-39.5, -31.809677262))
        make_face()
        with BuildLine():
            Line((39.5, 31.809677262), (39.5, 37.5))
            Line((39.5, 37.5), (30.770960917, 37.5))
            ThreePointArc((30.770960917, 37.5), (33.051402638, 31.457832488), (39.5, 31.809677262))
        make_face()
    extrude(amount=BOSS_EXTRUDE6_DEPTH)

    # Sketch17 → Cut-Extrude10 (cut)
    with BuildSketch(Plane.YZ.offset(39.5)):
        with Locations((36, 138.285341489)):
            Circle(SKETCH17_R)
        with Locations((-36, 138.285341489)):
            Circle(SKETCH17_R)
    cut_extrude10 = extrude(amount=-CUT_EXTRUDE10_DEPTH, mode=Mode.SUBTRACT)

    # Mirror2: Cut-Extrude10 across plane
    add(cut_extrude10.mirror(Plane(origin=(0, 0, 0), x_dir=(0, 0, 1), z_dir=(1, 0, 0))), mode=Mode.SUBTRACT)

    # Sketch18 → Boss-Extrude7 (add)
    with BuildSketch(Plane.XY.offset(60)):
        with BuildLine():
            ThreePointArc((-39.5, -31.809677262), (-33.051402638, -31.457832488), (-30.770960917, -37.5))
            Line((-30.770960917, -37.5), (-39.5, -37.5))
            Line((-39.5, -37.5), (-39.5, -31.809677262))
        make_face()
        with BuildLine():
            Line((39.5, 31.809677262), (39.5, 37.5))
            Line((39.5, 37.5), (30.770960917, 37.5))
            ThreePointArc((30.770960917, 37.5), (33.051402638, 31.457832488), (39.5, 31.809677262))
        make_face()
        with BuildLine():
            Line((-39.5, 37.5), (-30.770960917, 37.5))
            ThreePointArc((-30.770960917, 37.5), (-33.051402638, 31.457832488), (-39.5, 31.809677262))
            Line((-39.5, 31.809677262), (-39.5, 37.5))
        make_face()
        with BuildLine():
            Line((39.5, -37.5), (30.770960917, -37.5))
            ThreePointArc((30.770960917, -37.5), (33.051402638, -31.457832488), (39.5, -31.809677262))
            Line((39.5, -31.809677262), (39.5, -37.5))
        make_face()
    extrude(amount=-BOSS_EXTRUDE7_DEPTH)

    # Sketch19 → Cut-Extrude11 (cut)
    with BuildSketch(Plane(origin=(-39.5, 0, 0), x_dir=(0, -1, 0), z_dir=(-1, 0, 0))):
        with Locations((35.809677262, 53)):
            Circle(SKETCH19_R)
    cut_extrude11 = extrude(amount=-CUT_EXTRUDE11_DEPTH, mode=Mode.SUBTRACT)

    # Sketch20 → Cut-Extrude12 (cut)
    with BuildSketch(Plane.YZ.offset(39.5)):
        with Locations((35.809677262, 53)):
            Circle(SKETCH20_R)
    cut_extrude12 = extrude(amount=-CUT_EXTRUDE12_DEPTH, mode=Mode.SUBTRACT)

    # Mirror3: Cut-Extrude11 across plane
    add(cut_extrude11.mirror(Plane(origin=(0, 0, 0), x_dir=(0, 0, 1), z_dir=(1, 0, 0))), mode=Mode.SUBTRACT)

    # Mirror4: Cut-Extrude12 across plane
    add(cut_extrude12.mirror(Plane(origin=(0, 0, 0), x_dir=(0, 0, 1), z_dir=(1, 0, 0))), mode=Mode.SUBTRACT)


solid = part.part
